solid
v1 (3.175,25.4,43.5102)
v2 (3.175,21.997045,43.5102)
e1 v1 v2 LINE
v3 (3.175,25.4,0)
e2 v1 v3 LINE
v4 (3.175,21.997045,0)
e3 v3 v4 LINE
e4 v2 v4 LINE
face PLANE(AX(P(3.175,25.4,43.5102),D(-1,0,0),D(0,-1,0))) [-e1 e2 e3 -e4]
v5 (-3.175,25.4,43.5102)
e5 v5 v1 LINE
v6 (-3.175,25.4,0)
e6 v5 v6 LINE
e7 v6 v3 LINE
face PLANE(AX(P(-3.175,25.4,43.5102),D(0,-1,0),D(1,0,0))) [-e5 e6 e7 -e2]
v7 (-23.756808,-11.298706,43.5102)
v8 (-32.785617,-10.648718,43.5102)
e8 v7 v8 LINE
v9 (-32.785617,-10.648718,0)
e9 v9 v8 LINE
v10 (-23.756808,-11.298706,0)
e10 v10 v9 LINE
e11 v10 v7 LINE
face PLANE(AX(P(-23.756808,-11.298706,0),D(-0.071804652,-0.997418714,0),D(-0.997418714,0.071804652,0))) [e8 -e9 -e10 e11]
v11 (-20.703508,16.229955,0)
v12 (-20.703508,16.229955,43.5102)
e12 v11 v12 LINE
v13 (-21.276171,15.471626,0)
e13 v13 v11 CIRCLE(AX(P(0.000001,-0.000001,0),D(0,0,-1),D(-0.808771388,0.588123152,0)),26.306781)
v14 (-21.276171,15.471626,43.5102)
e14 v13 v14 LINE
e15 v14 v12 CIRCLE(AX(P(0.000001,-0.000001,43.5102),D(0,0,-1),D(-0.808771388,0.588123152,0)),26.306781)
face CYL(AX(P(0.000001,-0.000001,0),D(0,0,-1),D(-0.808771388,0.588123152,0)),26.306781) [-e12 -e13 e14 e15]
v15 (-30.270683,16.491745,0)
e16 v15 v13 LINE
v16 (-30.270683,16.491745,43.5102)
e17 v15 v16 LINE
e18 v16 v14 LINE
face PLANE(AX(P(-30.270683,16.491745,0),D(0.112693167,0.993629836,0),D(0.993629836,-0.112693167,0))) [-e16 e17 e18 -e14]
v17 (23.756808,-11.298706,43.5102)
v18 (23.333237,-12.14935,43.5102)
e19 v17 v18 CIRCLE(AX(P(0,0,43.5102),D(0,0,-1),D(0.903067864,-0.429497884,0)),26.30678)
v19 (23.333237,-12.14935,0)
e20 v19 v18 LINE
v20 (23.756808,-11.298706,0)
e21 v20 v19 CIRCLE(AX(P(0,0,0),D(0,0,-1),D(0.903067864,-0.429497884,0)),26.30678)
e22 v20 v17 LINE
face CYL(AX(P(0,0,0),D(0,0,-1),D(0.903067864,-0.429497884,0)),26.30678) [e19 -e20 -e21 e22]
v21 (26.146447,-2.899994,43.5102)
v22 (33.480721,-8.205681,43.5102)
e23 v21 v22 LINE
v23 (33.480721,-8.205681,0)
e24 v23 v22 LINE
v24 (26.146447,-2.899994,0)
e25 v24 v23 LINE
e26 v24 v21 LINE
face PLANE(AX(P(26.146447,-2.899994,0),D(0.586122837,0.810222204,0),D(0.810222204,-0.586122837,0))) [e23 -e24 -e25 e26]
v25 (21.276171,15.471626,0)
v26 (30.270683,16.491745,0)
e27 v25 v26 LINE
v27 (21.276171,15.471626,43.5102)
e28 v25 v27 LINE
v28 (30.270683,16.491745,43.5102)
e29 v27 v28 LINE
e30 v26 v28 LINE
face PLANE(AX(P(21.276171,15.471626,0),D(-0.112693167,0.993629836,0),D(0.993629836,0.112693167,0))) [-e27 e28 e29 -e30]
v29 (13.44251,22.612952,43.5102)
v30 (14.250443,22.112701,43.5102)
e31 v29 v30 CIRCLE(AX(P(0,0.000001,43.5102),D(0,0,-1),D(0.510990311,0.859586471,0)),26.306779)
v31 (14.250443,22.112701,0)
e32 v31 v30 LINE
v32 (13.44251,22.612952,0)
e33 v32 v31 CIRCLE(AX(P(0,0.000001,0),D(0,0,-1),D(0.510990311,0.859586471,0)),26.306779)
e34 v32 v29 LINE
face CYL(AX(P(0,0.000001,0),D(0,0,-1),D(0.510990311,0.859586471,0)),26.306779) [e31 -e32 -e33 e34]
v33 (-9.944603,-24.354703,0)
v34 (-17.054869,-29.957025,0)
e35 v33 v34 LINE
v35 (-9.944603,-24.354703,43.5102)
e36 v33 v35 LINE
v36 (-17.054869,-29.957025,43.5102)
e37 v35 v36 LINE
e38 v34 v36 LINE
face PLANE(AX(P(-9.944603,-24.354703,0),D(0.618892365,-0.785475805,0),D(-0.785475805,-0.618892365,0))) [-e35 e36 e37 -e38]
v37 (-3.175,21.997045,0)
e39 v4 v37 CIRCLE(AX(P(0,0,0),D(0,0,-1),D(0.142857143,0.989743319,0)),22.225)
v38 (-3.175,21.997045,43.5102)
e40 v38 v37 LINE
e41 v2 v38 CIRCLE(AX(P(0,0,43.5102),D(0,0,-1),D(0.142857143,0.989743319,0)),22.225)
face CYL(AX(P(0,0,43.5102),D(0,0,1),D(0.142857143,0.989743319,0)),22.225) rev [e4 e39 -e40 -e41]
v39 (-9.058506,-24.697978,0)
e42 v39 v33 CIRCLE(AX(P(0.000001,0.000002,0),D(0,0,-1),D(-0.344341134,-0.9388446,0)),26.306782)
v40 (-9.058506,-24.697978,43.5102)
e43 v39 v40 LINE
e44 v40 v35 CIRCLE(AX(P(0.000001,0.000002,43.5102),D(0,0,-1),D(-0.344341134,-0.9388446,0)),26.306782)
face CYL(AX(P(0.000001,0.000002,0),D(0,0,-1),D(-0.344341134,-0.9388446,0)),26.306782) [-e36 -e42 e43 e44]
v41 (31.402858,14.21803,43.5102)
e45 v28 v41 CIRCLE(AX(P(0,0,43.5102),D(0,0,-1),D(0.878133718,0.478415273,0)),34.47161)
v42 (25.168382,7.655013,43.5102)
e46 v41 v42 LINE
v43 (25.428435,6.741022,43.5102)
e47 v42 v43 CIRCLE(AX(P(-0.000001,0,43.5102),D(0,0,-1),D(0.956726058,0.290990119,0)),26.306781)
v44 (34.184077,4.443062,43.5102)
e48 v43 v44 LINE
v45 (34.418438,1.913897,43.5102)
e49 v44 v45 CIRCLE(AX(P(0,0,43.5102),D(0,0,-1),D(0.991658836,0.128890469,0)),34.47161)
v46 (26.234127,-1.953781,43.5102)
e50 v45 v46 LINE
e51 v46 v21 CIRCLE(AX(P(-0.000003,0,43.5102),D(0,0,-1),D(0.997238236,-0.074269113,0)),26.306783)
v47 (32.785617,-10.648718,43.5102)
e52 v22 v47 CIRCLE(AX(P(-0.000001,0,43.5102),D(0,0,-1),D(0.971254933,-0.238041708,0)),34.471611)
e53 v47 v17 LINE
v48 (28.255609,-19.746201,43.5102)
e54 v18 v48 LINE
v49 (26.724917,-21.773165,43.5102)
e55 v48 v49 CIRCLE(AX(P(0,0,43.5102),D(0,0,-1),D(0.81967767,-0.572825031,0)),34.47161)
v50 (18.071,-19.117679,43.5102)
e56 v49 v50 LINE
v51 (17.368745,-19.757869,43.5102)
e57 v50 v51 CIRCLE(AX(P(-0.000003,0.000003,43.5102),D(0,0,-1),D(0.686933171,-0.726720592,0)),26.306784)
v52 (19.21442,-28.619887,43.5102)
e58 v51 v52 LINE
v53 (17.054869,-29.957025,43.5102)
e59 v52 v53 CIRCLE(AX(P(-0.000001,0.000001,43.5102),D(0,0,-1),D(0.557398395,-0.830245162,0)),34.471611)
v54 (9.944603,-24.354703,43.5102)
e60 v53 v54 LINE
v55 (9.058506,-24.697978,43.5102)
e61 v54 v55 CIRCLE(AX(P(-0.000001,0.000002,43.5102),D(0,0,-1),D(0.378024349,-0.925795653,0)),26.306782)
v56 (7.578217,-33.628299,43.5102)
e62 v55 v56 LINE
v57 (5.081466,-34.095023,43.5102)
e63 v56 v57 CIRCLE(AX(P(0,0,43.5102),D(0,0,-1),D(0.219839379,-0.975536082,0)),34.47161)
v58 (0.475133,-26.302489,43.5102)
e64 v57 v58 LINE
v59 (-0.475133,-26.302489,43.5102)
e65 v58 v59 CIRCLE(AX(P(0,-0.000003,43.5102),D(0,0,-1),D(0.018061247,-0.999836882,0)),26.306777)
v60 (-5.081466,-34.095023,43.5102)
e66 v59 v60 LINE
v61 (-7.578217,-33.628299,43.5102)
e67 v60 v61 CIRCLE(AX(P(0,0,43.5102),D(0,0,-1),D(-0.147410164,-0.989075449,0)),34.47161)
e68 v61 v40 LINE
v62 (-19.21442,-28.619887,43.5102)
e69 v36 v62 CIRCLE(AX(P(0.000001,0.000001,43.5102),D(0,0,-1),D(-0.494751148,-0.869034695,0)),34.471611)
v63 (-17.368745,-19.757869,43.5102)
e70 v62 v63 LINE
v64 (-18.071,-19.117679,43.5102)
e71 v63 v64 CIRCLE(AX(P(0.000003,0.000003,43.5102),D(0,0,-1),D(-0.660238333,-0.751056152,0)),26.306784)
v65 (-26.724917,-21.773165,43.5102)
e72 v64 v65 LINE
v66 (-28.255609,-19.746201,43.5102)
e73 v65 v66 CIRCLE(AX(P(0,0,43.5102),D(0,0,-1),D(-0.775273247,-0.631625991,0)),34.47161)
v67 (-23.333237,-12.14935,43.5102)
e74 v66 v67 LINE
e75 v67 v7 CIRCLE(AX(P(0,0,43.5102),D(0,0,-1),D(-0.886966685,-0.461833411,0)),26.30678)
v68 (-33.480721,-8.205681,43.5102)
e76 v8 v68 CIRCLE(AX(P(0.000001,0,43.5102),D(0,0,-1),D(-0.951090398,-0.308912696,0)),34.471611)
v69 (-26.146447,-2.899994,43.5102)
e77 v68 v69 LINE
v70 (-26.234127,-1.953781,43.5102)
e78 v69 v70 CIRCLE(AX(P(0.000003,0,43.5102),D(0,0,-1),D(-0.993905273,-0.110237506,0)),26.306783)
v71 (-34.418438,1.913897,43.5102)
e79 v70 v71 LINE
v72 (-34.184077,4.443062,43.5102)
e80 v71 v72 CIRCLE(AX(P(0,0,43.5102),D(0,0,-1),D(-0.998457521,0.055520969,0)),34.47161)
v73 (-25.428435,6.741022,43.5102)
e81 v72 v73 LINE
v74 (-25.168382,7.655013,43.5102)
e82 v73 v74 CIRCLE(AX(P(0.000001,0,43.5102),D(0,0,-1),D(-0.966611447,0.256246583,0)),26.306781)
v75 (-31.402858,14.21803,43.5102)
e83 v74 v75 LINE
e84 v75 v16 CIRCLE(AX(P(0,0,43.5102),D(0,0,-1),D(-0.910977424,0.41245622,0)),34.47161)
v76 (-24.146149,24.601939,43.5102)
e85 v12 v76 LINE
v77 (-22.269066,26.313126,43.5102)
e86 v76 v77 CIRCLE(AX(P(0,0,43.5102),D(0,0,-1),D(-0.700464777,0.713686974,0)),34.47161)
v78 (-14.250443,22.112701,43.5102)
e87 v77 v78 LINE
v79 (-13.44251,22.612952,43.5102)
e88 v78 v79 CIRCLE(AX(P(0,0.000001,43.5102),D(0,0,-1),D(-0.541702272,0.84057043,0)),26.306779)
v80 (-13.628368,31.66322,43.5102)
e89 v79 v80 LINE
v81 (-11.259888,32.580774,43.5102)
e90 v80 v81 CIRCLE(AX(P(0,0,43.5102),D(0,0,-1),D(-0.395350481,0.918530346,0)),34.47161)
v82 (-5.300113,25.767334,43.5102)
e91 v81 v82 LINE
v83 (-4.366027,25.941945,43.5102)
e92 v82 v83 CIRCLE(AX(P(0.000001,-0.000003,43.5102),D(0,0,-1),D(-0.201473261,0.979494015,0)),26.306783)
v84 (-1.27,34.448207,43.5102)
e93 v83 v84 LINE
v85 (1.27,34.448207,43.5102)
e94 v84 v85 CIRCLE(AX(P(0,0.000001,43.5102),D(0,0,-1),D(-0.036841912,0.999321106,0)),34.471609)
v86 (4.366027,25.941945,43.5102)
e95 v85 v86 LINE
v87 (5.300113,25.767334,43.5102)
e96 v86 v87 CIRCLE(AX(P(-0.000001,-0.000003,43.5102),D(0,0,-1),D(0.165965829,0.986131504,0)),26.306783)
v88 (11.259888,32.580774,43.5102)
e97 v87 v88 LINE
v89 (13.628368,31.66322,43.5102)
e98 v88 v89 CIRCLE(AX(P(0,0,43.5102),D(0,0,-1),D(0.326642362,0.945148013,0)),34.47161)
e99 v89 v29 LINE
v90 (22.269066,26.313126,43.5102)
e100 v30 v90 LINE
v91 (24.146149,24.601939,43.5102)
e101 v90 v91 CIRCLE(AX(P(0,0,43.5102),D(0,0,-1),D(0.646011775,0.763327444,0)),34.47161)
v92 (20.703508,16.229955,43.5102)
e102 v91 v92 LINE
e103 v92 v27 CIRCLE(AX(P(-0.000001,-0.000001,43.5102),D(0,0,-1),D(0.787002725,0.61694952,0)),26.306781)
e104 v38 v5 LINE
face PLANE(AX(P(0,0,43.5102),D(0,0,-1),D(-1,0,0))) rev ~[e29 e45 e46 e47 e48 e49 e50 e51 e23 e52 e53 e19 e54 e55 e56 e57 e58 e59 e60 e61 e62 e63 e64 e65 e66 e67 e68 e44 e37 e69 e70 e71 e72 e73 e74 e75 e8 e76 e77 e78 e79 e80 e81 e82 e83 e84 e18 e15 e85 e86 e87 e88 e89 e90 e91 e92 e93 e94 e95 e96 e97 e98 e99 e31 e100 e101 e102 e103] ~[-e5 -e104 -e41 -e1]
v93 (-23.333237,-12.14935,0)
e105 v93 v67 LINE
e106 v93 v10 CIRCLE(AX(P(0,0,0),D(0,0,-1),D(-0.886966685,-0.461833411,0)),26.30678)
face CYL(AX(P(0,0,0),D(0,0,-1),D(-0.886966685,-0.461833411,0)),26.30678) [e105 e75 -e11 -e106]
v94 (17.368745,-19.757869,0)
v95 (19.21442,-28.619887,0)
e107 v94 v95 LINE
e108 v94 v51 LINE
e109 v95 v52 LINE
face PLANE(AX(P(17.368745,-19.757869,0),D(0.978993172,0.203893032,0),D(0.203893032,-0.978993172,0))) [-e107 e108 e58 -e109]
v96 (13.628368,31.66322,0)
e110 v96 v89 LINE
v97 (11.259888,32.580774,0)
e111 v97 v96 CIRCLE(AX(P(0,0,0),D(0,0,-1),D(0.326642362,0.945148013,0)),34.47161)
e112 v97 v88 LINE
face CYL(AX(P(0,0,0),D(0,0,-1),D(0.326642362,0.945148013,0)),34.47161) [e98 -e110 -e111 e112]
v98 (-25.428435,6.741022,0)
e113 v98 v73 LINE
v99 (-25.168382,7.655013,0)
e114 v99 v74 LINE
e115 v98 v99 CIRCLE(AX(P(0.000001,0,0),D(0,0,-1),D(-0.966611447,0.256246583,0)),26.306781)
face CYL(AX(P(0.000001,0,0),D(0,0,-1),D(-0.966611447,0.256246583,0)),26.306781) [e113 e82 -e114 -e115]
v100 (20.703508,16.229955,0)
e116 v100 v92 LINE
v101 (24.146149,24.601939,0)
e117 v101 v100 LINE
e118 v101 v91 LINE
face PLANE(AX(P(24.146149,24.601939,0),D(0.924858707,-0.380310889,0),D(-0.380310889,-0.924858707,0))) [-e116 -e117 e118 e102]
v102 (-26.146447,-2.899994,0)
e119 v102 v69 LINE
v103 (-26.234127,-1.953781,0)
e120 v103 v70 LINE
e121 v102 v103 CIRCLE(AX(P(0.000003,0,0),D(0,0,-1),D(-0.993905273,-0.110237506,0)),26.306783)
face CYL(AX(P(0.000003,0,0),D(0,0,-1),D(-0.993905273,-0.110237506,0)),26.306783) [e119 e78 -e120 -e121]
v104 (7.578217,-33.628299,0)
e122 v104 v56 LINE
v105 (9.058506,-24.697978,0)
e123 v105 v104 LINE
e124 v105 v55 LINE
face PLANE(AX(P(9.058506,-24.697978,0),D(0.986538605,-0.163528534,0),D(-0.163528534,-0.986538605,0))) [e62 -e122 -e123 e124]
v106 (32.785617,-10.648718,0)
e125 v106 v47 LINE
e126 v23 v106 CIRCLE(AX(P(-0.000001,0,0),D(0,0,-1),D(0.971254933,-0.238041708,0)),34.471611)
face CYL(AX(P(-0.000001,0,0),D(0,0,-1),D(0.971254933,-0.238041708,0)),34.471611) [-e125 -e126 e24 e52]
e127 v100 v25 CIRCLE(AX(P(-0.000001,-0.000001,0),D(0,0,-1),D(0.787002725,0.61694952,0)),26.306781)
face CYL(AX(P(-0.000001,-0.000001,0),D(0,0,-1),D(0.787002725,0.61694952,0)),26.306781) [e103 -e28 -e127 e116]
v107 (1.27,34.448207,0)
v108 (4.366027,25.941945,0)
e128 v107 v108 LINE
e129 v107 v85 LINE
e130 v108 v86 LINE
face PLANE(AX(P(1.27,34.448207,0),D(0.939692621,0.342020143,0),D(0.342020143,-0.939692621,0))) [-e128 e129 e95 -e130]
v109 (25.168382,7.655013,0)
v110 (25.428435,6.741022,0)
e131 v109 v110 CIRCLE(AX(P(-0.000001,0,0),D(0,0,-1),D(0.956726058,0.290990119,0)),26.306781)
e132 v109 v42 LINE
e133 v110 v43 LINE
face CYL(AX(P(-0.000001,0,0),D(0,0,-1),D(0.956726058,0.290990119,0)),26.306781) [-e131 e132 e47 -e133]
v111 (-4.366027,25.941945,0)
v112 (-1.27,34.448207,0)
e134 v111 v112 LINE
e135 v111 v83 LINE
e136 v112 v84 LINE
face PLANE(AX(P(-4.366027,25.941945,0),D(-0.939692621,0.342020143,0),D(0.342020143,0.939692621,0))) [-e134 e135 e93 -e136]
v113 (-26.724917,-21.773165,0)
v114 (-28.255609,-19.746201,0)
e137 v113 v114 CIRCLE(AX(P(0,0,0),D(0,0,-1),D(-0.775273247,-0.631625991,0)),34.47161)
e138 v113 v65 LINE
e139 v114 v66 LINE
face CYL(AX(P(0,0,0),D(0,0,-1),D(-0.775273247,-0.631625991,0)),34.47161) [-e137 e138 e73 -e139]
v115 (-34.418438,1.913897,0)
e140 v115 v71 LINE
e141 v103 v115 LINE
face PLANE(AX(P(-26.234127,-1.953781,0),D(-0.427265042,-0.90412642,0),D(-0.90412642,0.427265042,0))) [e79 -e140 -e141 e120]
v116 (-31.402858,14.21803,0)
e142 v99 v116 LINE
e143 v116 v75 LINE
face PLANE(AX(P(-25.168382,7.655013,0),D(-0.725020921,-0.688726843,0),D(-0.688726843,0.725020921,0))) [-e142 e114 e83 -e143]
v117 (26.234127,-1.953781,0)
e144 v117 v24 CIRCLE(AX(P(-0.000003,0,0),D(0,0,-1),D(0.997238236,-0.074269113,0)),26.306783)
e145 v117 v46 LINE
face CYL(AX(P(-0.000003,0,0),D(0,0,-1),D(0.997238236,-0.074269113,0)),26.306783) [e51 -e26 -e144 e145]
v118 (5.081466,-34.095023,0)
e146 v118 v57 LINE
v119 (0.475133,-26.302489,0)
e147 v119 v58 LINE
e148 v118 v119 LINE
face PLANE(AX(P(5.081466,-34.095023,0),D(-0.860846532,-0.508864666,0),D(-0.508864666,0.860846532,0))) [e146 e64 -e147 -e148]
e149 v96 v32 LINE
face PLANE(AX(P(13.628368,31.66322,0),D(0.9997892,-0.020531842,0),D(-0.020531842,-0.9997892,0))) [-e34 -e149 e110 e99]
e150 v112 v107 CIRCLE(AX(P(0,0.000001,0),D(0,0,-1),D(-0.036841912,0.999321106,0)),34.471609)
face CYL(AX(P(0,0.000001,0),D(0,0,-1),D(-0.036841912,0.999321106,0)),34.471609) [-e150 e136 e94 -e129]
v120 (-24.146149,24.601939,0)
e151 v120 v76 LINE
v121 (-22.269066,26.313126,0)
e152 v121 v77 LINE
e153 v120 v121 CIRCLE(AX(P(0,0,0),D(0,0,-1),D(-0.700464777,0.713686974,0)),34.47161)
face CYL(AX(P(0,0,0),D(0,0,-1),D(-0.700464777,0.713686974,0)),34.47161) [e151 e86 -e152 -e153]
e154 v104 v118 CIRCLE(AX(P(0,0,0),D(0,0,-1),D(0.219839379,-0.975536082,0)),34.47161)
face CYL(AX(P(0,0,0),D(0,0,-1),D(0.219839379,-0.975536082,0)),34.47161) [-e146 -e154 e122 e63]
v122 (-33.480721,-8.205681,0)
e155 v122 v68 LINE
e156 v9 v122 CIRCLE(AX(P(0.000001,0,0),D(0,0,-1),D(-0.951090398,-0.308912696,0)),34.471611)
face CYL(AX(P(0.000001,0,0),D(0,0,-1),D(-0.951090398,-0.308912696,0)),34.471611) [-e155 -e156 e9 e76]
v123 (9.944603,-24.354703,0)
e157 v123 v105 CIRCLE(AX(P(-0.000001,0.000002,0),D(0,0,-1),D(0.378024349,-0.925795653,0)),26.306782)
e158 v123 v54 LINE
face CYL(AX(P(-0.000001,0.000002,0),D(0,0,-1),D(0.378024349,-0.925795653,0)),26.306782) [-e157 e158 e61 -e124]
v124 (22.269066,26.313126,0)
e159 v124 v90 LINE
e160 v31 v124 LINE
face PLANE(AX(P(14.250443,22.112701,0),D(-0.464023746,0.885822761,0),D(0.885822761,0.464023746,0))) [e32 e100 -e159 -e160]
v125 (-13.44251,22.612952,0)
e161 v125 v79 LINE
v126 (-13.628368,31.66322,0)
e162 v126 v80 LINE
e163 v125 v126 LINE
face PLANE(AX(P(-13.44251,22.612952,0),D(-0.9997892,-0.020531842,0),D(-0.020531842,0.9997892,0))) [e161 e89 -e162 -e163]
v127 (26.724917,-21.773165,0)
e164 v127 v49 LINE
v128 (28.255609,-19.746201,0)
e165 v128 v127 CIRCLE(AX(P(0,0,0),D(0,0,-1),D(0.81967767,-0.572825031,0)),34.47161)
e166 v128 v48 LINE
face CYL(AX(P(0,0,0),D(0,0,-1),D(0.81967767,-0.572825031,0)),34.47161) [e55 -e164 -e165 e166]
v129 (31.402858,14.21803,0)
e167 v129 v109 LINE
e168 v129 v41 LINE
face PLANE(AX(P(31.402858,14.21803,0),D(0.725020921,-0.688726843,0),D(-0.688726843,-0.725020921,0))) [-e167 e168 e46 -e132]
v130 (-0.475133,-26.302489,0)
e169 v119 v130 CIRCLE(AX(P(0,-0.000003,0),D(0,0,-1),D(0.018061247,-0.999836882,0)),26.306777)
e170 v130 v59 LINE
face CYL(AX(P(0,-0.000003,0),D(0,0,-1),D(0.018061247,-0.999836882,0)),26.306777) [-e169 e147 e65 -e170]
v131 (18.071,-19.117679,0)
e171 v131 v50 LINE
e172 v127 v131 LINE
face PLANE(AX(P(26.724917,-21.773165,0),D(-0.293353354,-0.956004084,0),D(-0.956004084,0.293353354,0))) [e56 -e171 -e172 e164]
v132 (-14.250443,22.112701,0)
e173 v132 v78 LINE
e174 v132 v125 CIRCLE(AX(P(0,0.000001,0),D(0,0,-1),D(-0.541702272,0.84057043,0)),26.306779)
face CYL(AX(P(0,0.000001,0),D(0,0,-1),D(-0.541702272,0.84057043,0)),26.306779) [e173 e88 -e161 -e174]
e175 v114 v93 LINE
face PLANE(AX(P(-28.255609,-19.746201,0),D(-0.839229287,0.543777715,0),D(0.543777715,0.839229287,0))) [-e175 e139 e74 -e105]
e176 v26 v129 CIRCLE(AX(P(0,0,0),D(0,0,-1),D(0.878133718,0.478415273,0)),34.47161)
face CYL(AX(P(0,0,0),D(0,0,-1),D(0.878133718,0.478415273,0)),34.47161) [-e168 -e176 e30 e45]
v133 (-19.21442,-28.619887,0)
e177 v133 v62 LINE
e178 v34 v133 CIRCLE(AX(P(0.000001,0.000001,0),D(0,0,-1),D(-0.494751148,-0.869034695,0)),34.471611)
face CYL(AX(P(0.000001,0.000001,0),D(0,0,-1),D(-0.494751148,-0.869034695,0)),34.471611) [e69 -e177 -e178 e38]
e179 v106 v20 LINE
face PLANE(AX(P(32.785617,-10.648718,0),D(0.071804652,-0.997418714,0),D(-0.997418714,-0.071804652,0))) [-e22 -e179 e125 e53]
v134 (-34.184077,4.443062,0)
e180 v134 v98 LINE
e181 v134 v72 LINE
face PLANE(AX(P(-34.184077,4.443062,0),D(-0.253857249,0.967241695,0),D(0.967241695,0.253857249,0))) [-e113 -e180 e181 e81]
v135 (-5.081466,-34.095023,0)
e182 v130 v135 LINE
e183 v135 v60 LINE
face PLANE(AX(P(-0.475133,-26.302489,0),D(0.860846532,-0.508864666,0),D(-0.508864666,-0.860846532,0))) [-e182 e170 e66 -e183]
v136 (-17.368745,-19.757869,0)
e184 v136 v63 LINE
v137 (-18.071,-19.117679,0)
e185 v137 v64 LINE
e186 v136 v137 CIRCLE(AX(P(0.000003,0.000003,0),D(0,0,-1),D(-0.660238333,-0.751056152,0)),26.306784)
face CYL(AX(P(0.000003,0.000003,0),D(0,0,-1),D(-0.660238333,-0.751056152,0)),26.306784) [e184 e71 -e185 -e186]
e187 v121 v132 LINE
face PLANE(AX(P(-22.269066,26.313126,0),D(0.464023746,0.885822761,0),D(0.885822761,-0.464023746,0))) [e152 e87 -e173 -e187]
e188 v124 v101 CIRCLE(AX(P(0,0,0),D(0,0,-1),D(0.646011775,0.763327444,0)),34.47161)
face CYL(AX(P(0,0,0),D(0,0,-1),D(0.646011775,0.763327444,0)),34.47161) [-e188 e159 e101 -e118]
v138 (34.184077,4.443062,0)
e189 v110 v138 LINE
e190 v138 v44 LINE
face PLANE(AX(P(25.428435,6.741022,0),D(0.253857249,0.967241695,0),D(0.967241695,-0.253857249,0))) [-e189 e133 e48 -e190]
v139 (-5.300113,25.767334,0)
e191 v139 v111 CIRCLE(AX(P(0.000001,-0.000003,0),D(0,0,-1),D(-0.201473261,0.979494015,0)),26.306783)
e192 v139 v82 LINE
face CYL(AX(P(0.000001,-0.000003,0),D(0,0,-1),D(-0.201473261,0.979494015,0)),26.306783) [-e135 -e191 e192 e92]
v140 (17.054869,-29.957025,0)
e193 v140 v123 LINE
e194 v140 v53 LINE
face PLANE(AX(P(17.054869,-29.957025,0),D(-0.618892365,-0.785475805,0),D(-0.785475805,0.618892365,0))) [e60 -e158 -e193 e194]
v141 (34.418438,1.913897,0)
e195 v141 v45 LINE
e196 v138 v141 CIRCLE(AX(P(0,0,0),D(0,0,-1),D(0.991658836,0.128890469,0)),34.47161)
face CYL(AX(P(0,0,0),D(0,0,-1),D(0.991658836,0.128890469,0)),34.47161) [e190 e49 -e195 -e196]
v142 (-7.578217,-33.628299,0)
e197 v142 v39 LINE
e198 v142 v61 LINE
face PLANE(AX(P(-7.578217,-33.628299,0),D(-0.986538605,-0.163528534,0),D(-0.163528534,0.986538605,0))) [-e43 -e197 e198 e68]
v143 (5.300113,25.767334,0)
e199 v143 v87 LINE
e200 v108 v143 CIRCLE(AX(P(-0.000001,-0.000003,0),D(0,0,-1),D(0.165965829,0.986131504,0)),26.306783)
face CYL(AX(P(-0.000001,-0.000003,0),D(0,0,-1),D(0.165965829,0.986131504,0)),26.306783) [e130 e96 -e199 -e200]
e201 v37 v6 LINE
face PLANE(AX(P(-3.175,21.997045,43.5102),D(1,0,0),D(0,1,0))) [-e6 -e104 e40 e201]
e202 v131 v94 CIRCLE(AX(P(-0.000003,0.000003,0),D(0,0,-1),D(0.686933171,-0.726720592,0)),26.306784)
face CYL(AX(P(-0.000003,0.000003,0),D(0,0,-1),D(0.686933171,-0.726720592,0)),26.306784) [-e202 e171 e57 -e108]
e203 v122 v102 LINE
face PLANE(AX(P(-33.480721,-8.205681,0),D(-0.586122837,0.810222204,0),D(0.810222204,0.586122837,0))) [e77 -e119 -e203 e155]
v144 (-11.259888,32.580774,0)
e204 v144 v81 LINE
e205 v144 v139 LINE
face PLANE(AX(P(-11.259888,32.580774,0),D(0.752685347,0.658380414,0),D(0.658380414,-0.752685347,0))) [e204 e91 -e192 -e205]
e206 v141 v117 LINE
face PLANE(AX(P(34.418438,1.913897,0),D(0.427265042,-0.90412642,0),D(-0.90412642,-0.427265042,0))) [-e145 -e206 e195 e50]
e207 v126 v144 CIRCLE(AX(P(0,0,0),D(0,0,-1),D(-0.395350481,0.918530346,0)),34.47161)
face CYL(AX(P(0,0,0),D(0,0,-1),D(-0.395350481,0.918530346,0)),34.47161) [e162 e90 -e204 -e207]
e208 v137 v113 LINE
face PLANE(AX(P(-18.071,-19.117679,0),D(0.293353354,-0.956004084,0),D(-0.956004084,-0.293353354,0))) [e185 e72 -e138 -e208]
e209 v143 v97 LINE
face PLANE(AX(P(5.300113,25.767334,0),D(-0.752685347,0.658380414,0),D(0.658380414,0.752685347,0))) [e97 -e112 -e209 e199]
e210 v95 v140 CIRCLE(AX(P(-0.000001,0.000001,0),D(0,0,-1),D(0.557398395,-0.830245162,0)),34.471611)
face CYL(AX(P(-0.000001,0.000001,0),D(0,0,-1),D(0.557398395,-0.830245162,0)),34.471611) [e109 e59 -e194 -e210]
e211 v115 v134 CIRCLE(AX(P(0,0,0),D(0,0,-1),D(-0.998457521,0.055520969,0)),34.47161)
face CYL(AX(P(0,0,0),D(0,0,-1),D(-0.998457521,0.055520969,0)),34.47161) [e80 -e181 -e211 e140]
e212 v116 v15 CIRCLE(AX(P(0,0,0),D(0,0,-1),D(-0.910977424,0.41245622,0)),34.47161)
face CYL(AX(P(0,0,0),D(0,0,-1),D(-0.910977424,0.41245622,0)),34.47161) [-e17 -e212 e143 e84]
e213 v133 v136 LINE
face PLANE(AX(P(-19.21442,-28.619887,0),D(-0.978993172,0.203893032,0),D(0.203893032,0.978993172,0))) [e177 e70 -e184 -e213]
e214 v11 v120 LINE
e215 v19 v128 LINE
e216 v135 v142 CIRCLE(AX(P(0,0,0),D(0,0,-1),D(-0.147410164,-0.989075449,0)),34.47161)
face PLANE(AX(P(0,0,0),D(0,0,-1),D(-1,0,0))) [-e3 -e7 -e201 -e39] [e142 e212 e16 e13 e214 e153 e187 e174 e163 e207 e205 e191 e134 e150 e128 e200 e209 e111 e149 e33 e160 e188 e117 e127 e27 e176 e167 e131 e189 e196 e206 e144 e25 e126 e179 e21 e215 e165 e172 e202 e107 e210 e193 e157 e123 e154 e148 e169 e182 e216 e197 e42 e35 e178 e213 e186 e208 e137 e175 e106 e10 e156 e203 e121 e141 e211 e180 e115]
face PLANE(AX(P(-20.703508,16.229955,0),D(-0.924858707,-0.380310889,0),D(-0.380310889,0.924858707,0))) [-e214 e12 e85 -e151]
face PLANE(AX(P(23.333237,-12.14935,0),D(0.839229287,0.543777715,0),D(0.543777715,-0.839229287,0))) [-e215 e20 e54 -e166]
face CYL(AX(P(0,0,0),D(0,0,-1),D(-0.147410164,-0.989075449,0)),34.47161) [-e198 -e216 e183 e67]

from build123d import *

# Parameters (mm, degrees)
BOSS_EXTRUDE1_DEPTH = 43.5102
CUT_EXTRUDE1_DEPTH  = 43.5102


with BuildPart() as part:
    # Sketch2 → Boss-Extrude1 (new body)
    with BuildSketch(Plane.XY):
        with BuildLine():
            Line((-4.366026501, 25.941944541), (-1.27, 34.448207442))
            ThreePointArc((-1.27, 34.448207442), (0, 34.47161), (1.27, 34.448207442))
            Line((1.27, 34.448207442), (4.366026501, 25.941944541))
            ThreePointArc((4.366026501, 25.941944541), (4.83385814, 25.858857079), (5.300112805, 25.767333549))
            Line((5.300112805, 25.767333549), (11.259888122, 32.580773709))
            ThreePointArc((11.259888122, 32.580773709), (12.452581833, 32.143819028), (13.628367585, 31.663219877))
            Line((13.628367585, 31.663219877), (13.442509735, 22.612952173))
            ThreePointArc((13.442509735, 22.612952173), (13.848735094, 22.366475142), (14.250442508, 22.11270138))
            Line((14.250442508, 22.11270138), (22.26906596, 26.31312595))
            ThreePointArc((22.26906596, 26.31312595), (23.223373486, 25.474827181), (24.14614861, 24.601939015))
            Line((24.14614861, 24.601939015), (20.703507542, 16.229955312))
            ThreePointArc((20.703507542, 16.229955312), (20.993263634, 15.8533768), (21.276170986, 15.471626358))
            Line((21.276170986, 15.471626358), (30.270683044, 16.491744725))
            ThreePointArc((30.270683044, 16.491744725), (30.857719866, 15.365318762), (31.402858467, 14.218029965))
            Line((31.402858467, 14.218029965), (25.168381933, 7.655013053))
            ThreePointArc((25.168381933, 7.655013053), (25.302535593, 7.199192074), (25.428434676, 6.741022466))
            Line((25.428434676, 6.741022466), (34.184076646, 4.443061991))
            ThreePointArc((34.184076646, 4.443061991), (34.324560189, 3.180638903), (34.418438279, 1.913897183))
            Line((34.418438279, 1.913897183), (26.234126882, -1.953781138))
            ThreePointArc((26.234126882, -1.953781138), (26.194559914, -2.427283433), (26.14644736, -2.899993864))
            Line((26.14644736, -2.899993864), (33.480721277, -8.205680884))
            ThreePointArc((33.480721277, -8.205680884), (33.155678459, -9.433603865), (32.785617282, -10.648718018))
            Line((32.785617282, -10.648718018), (23.756807626, -11.298706359))
            ThreePointArc((23.756807626, -11.298706359), (23.54886377, -11.725940863), (23.333237446, -12.149349953))
            Line((23.333237446, -12.149349953), (28.255608976, -19.746201087))
            ThreePointArc((28.255608976, -19.746201087), (27.508938632, -20.773786158), (26.724917, -21.773164845))
            Line((26.724917, -21.773164845), (18.07099986, -19.117678678))
            ThreePointArc((18.07099986, -19.117678678), (17.722763084, -19.440945003), (17.36874452, -19.757869009))
            Line((17.36874452, -19.757869009), (19.214420114, -28.619887416))
            ThreePointArc((19.214420114, -28.619887416), (18.14696421, -29.308353518), (17.054868589, -29.95702511))
            Line((17.054868589, -29.95702511), (9.944603428, -24.354702557))
            ThreePointArc((9.944603428, -24.354702557), (9.503105039, -24.530341795), (9.058506404, -24.697978373))
            Line((9.058506404, -24.697978373), (7.578217344, -33.628299361))
            ThreePointArc((7.578217344, -33.628299361), (6.334141716, -33.884665333), (5.081465671, -34.095023136))
            Line((5.081465671, -34.095023136), (0.475133198, -26.302488901))
            ThreePointArc((0.475133198, -26.302488901), (0, -26.30678), (-0.475133198, -26.302488901))
            Line((-0.475133198, -26.302488901), (-5.081465671, -34.095023136))
            ThreePointArc((-5.081465671, -34.095023136), (-6.334141716, -33.884665333), (-7.578217344, -33.628299361))
            Line((-7.578217344, -33.628299361), (-9.058506404, -24.697978373))
            ThreePointArc((-9.058506404, -24.697978373), (-9.503105039, -24.530341795), (-9.944603428, -24.354702557))
            Line((-9.944603428, -24.354702557), (-17.054868589, -29.95702511))
            ThreePointArc((-17.054868589, -29.95702511), (-18.14696421, -29.308353518), (-19.214420114, -28.619887416))
            Line((-19.214420114, -28.619887416), (-17.36874452, -19.757869009))
            ThreePointArc((-17.36874452, -19.757869009), (-17.722763084, -19.440945003), (-18.07099986, -19.117678678))
            Line((-18.07099986, -19.117678678), (-26.724917, -21.773164845))
            ThreePointArc((-26.724917, -21.773164845), (-27.508938632, -20.773786158), (-28.255608976, -19.746201087))
            Line((-28.255608976, -19.746201087), (-23.333237446, -12.149349953))
            ThreePointArc((-23.333237446, -12.149349953), (-23.54886377, -11.725940863), (-23.756807626, -11.298706359))
            Line((-23.756807626, -11.298706359), (-32.785617282, -10.648718018))
            ThreePointArc((-32.785617282, -10.648718018), (-33.155678459, -9.433603865), (-33.480721277, -8.205680884))
            Line((-33.480721277, -8.205680884), (-26.14644736, -2.899993864))
            ThreePointArc((-26.14644736, -2.899993864), (-26.194559914, -2.427283433), (-26.234126882, -1.953781138))
            Line((-26.234126882, -1.953781138), (-34.418438279, 1.913897183))
            ThreePointArc((-34.418438279, 1.913897183), (-34.324560189, 3.180638903), (-34.184076646, 4.443061991))
            Line((-34.184076646, 4.443061991), (-25.428434676, 6.741022466))
            ThreePointArc((-25.428434676, 6.741022466), (-25.302535593, 7.199192074), (-25.168381933, 7.655013053))
            Line((-25.168381933, 7.655013053), (-31.402858467, 14.218029965))
            ThreePointArc((-31.402858467, 14.218029965), (-30.857719866, 15.365318762), (-30.270683044, 16.491744725))
            Line((-30.270683044, 16.491744725), (-21.276170986, 15.471626358))
            ThreePointArc((-21.276170986, 15.471626358), (-20.993263634, 15.8533768), (-20.703507542, 16.229955312))
            Line((-20.703507542, 16.229955312), (-24.14614861, 24.601939015))
            ThreePointArc((-24.14614861, 24.601939015), (-23.223373486, 25.474827181), (-22.26906596, 26.31312595))
            Line((-22.26906596, 26.31312595), (-14.250442508, 22.11270138))
            ThreePointArc((-14.250442508, 22.11270138), (-13.848735094, 22.366475142), (-13.442509735, 22.612952173))
            Line((-13.442509735, 22.612952173), (-13.628367585, 31.663219877))
            ThreePointArc((-13.628367585, 31.663219877), (-12.452581833, 32.143819028), (-11.259888122, 32.580773709))
            Line((-11.259888122, 32.580773709), (-5.300112805, 25.767333549))
            ThreePointArc((-5.300112805, 25.767333549), (-4.83385814, 25.858857079), (-4.366026501, 25.941944541))
        make_face()
    extrude(amount=BOSS_EXTRUDE1_DEPTH)

    # Sketch4 → Cut-Extrude1 (cut)
    with BuildSketch(Plane.XY.offset(43.5102)):
        with BuildLine():
            Line((-3.175, 25.4), (3.175, 25.4))
            Line((3.175, 25.4), (3.175, 21.997045256))
            ThreePointArc((3.175, 21.997045256), (0, -22.225), (-3.175, 21.997045256))
            Line((-3.175, 21.997045256), (-3.175, 25.4))
        make_face()
    extrude(amount=-CUT_EXTRUDE1_DEPTH, mode=Mode.SUBTRACT)


solid = part.part
